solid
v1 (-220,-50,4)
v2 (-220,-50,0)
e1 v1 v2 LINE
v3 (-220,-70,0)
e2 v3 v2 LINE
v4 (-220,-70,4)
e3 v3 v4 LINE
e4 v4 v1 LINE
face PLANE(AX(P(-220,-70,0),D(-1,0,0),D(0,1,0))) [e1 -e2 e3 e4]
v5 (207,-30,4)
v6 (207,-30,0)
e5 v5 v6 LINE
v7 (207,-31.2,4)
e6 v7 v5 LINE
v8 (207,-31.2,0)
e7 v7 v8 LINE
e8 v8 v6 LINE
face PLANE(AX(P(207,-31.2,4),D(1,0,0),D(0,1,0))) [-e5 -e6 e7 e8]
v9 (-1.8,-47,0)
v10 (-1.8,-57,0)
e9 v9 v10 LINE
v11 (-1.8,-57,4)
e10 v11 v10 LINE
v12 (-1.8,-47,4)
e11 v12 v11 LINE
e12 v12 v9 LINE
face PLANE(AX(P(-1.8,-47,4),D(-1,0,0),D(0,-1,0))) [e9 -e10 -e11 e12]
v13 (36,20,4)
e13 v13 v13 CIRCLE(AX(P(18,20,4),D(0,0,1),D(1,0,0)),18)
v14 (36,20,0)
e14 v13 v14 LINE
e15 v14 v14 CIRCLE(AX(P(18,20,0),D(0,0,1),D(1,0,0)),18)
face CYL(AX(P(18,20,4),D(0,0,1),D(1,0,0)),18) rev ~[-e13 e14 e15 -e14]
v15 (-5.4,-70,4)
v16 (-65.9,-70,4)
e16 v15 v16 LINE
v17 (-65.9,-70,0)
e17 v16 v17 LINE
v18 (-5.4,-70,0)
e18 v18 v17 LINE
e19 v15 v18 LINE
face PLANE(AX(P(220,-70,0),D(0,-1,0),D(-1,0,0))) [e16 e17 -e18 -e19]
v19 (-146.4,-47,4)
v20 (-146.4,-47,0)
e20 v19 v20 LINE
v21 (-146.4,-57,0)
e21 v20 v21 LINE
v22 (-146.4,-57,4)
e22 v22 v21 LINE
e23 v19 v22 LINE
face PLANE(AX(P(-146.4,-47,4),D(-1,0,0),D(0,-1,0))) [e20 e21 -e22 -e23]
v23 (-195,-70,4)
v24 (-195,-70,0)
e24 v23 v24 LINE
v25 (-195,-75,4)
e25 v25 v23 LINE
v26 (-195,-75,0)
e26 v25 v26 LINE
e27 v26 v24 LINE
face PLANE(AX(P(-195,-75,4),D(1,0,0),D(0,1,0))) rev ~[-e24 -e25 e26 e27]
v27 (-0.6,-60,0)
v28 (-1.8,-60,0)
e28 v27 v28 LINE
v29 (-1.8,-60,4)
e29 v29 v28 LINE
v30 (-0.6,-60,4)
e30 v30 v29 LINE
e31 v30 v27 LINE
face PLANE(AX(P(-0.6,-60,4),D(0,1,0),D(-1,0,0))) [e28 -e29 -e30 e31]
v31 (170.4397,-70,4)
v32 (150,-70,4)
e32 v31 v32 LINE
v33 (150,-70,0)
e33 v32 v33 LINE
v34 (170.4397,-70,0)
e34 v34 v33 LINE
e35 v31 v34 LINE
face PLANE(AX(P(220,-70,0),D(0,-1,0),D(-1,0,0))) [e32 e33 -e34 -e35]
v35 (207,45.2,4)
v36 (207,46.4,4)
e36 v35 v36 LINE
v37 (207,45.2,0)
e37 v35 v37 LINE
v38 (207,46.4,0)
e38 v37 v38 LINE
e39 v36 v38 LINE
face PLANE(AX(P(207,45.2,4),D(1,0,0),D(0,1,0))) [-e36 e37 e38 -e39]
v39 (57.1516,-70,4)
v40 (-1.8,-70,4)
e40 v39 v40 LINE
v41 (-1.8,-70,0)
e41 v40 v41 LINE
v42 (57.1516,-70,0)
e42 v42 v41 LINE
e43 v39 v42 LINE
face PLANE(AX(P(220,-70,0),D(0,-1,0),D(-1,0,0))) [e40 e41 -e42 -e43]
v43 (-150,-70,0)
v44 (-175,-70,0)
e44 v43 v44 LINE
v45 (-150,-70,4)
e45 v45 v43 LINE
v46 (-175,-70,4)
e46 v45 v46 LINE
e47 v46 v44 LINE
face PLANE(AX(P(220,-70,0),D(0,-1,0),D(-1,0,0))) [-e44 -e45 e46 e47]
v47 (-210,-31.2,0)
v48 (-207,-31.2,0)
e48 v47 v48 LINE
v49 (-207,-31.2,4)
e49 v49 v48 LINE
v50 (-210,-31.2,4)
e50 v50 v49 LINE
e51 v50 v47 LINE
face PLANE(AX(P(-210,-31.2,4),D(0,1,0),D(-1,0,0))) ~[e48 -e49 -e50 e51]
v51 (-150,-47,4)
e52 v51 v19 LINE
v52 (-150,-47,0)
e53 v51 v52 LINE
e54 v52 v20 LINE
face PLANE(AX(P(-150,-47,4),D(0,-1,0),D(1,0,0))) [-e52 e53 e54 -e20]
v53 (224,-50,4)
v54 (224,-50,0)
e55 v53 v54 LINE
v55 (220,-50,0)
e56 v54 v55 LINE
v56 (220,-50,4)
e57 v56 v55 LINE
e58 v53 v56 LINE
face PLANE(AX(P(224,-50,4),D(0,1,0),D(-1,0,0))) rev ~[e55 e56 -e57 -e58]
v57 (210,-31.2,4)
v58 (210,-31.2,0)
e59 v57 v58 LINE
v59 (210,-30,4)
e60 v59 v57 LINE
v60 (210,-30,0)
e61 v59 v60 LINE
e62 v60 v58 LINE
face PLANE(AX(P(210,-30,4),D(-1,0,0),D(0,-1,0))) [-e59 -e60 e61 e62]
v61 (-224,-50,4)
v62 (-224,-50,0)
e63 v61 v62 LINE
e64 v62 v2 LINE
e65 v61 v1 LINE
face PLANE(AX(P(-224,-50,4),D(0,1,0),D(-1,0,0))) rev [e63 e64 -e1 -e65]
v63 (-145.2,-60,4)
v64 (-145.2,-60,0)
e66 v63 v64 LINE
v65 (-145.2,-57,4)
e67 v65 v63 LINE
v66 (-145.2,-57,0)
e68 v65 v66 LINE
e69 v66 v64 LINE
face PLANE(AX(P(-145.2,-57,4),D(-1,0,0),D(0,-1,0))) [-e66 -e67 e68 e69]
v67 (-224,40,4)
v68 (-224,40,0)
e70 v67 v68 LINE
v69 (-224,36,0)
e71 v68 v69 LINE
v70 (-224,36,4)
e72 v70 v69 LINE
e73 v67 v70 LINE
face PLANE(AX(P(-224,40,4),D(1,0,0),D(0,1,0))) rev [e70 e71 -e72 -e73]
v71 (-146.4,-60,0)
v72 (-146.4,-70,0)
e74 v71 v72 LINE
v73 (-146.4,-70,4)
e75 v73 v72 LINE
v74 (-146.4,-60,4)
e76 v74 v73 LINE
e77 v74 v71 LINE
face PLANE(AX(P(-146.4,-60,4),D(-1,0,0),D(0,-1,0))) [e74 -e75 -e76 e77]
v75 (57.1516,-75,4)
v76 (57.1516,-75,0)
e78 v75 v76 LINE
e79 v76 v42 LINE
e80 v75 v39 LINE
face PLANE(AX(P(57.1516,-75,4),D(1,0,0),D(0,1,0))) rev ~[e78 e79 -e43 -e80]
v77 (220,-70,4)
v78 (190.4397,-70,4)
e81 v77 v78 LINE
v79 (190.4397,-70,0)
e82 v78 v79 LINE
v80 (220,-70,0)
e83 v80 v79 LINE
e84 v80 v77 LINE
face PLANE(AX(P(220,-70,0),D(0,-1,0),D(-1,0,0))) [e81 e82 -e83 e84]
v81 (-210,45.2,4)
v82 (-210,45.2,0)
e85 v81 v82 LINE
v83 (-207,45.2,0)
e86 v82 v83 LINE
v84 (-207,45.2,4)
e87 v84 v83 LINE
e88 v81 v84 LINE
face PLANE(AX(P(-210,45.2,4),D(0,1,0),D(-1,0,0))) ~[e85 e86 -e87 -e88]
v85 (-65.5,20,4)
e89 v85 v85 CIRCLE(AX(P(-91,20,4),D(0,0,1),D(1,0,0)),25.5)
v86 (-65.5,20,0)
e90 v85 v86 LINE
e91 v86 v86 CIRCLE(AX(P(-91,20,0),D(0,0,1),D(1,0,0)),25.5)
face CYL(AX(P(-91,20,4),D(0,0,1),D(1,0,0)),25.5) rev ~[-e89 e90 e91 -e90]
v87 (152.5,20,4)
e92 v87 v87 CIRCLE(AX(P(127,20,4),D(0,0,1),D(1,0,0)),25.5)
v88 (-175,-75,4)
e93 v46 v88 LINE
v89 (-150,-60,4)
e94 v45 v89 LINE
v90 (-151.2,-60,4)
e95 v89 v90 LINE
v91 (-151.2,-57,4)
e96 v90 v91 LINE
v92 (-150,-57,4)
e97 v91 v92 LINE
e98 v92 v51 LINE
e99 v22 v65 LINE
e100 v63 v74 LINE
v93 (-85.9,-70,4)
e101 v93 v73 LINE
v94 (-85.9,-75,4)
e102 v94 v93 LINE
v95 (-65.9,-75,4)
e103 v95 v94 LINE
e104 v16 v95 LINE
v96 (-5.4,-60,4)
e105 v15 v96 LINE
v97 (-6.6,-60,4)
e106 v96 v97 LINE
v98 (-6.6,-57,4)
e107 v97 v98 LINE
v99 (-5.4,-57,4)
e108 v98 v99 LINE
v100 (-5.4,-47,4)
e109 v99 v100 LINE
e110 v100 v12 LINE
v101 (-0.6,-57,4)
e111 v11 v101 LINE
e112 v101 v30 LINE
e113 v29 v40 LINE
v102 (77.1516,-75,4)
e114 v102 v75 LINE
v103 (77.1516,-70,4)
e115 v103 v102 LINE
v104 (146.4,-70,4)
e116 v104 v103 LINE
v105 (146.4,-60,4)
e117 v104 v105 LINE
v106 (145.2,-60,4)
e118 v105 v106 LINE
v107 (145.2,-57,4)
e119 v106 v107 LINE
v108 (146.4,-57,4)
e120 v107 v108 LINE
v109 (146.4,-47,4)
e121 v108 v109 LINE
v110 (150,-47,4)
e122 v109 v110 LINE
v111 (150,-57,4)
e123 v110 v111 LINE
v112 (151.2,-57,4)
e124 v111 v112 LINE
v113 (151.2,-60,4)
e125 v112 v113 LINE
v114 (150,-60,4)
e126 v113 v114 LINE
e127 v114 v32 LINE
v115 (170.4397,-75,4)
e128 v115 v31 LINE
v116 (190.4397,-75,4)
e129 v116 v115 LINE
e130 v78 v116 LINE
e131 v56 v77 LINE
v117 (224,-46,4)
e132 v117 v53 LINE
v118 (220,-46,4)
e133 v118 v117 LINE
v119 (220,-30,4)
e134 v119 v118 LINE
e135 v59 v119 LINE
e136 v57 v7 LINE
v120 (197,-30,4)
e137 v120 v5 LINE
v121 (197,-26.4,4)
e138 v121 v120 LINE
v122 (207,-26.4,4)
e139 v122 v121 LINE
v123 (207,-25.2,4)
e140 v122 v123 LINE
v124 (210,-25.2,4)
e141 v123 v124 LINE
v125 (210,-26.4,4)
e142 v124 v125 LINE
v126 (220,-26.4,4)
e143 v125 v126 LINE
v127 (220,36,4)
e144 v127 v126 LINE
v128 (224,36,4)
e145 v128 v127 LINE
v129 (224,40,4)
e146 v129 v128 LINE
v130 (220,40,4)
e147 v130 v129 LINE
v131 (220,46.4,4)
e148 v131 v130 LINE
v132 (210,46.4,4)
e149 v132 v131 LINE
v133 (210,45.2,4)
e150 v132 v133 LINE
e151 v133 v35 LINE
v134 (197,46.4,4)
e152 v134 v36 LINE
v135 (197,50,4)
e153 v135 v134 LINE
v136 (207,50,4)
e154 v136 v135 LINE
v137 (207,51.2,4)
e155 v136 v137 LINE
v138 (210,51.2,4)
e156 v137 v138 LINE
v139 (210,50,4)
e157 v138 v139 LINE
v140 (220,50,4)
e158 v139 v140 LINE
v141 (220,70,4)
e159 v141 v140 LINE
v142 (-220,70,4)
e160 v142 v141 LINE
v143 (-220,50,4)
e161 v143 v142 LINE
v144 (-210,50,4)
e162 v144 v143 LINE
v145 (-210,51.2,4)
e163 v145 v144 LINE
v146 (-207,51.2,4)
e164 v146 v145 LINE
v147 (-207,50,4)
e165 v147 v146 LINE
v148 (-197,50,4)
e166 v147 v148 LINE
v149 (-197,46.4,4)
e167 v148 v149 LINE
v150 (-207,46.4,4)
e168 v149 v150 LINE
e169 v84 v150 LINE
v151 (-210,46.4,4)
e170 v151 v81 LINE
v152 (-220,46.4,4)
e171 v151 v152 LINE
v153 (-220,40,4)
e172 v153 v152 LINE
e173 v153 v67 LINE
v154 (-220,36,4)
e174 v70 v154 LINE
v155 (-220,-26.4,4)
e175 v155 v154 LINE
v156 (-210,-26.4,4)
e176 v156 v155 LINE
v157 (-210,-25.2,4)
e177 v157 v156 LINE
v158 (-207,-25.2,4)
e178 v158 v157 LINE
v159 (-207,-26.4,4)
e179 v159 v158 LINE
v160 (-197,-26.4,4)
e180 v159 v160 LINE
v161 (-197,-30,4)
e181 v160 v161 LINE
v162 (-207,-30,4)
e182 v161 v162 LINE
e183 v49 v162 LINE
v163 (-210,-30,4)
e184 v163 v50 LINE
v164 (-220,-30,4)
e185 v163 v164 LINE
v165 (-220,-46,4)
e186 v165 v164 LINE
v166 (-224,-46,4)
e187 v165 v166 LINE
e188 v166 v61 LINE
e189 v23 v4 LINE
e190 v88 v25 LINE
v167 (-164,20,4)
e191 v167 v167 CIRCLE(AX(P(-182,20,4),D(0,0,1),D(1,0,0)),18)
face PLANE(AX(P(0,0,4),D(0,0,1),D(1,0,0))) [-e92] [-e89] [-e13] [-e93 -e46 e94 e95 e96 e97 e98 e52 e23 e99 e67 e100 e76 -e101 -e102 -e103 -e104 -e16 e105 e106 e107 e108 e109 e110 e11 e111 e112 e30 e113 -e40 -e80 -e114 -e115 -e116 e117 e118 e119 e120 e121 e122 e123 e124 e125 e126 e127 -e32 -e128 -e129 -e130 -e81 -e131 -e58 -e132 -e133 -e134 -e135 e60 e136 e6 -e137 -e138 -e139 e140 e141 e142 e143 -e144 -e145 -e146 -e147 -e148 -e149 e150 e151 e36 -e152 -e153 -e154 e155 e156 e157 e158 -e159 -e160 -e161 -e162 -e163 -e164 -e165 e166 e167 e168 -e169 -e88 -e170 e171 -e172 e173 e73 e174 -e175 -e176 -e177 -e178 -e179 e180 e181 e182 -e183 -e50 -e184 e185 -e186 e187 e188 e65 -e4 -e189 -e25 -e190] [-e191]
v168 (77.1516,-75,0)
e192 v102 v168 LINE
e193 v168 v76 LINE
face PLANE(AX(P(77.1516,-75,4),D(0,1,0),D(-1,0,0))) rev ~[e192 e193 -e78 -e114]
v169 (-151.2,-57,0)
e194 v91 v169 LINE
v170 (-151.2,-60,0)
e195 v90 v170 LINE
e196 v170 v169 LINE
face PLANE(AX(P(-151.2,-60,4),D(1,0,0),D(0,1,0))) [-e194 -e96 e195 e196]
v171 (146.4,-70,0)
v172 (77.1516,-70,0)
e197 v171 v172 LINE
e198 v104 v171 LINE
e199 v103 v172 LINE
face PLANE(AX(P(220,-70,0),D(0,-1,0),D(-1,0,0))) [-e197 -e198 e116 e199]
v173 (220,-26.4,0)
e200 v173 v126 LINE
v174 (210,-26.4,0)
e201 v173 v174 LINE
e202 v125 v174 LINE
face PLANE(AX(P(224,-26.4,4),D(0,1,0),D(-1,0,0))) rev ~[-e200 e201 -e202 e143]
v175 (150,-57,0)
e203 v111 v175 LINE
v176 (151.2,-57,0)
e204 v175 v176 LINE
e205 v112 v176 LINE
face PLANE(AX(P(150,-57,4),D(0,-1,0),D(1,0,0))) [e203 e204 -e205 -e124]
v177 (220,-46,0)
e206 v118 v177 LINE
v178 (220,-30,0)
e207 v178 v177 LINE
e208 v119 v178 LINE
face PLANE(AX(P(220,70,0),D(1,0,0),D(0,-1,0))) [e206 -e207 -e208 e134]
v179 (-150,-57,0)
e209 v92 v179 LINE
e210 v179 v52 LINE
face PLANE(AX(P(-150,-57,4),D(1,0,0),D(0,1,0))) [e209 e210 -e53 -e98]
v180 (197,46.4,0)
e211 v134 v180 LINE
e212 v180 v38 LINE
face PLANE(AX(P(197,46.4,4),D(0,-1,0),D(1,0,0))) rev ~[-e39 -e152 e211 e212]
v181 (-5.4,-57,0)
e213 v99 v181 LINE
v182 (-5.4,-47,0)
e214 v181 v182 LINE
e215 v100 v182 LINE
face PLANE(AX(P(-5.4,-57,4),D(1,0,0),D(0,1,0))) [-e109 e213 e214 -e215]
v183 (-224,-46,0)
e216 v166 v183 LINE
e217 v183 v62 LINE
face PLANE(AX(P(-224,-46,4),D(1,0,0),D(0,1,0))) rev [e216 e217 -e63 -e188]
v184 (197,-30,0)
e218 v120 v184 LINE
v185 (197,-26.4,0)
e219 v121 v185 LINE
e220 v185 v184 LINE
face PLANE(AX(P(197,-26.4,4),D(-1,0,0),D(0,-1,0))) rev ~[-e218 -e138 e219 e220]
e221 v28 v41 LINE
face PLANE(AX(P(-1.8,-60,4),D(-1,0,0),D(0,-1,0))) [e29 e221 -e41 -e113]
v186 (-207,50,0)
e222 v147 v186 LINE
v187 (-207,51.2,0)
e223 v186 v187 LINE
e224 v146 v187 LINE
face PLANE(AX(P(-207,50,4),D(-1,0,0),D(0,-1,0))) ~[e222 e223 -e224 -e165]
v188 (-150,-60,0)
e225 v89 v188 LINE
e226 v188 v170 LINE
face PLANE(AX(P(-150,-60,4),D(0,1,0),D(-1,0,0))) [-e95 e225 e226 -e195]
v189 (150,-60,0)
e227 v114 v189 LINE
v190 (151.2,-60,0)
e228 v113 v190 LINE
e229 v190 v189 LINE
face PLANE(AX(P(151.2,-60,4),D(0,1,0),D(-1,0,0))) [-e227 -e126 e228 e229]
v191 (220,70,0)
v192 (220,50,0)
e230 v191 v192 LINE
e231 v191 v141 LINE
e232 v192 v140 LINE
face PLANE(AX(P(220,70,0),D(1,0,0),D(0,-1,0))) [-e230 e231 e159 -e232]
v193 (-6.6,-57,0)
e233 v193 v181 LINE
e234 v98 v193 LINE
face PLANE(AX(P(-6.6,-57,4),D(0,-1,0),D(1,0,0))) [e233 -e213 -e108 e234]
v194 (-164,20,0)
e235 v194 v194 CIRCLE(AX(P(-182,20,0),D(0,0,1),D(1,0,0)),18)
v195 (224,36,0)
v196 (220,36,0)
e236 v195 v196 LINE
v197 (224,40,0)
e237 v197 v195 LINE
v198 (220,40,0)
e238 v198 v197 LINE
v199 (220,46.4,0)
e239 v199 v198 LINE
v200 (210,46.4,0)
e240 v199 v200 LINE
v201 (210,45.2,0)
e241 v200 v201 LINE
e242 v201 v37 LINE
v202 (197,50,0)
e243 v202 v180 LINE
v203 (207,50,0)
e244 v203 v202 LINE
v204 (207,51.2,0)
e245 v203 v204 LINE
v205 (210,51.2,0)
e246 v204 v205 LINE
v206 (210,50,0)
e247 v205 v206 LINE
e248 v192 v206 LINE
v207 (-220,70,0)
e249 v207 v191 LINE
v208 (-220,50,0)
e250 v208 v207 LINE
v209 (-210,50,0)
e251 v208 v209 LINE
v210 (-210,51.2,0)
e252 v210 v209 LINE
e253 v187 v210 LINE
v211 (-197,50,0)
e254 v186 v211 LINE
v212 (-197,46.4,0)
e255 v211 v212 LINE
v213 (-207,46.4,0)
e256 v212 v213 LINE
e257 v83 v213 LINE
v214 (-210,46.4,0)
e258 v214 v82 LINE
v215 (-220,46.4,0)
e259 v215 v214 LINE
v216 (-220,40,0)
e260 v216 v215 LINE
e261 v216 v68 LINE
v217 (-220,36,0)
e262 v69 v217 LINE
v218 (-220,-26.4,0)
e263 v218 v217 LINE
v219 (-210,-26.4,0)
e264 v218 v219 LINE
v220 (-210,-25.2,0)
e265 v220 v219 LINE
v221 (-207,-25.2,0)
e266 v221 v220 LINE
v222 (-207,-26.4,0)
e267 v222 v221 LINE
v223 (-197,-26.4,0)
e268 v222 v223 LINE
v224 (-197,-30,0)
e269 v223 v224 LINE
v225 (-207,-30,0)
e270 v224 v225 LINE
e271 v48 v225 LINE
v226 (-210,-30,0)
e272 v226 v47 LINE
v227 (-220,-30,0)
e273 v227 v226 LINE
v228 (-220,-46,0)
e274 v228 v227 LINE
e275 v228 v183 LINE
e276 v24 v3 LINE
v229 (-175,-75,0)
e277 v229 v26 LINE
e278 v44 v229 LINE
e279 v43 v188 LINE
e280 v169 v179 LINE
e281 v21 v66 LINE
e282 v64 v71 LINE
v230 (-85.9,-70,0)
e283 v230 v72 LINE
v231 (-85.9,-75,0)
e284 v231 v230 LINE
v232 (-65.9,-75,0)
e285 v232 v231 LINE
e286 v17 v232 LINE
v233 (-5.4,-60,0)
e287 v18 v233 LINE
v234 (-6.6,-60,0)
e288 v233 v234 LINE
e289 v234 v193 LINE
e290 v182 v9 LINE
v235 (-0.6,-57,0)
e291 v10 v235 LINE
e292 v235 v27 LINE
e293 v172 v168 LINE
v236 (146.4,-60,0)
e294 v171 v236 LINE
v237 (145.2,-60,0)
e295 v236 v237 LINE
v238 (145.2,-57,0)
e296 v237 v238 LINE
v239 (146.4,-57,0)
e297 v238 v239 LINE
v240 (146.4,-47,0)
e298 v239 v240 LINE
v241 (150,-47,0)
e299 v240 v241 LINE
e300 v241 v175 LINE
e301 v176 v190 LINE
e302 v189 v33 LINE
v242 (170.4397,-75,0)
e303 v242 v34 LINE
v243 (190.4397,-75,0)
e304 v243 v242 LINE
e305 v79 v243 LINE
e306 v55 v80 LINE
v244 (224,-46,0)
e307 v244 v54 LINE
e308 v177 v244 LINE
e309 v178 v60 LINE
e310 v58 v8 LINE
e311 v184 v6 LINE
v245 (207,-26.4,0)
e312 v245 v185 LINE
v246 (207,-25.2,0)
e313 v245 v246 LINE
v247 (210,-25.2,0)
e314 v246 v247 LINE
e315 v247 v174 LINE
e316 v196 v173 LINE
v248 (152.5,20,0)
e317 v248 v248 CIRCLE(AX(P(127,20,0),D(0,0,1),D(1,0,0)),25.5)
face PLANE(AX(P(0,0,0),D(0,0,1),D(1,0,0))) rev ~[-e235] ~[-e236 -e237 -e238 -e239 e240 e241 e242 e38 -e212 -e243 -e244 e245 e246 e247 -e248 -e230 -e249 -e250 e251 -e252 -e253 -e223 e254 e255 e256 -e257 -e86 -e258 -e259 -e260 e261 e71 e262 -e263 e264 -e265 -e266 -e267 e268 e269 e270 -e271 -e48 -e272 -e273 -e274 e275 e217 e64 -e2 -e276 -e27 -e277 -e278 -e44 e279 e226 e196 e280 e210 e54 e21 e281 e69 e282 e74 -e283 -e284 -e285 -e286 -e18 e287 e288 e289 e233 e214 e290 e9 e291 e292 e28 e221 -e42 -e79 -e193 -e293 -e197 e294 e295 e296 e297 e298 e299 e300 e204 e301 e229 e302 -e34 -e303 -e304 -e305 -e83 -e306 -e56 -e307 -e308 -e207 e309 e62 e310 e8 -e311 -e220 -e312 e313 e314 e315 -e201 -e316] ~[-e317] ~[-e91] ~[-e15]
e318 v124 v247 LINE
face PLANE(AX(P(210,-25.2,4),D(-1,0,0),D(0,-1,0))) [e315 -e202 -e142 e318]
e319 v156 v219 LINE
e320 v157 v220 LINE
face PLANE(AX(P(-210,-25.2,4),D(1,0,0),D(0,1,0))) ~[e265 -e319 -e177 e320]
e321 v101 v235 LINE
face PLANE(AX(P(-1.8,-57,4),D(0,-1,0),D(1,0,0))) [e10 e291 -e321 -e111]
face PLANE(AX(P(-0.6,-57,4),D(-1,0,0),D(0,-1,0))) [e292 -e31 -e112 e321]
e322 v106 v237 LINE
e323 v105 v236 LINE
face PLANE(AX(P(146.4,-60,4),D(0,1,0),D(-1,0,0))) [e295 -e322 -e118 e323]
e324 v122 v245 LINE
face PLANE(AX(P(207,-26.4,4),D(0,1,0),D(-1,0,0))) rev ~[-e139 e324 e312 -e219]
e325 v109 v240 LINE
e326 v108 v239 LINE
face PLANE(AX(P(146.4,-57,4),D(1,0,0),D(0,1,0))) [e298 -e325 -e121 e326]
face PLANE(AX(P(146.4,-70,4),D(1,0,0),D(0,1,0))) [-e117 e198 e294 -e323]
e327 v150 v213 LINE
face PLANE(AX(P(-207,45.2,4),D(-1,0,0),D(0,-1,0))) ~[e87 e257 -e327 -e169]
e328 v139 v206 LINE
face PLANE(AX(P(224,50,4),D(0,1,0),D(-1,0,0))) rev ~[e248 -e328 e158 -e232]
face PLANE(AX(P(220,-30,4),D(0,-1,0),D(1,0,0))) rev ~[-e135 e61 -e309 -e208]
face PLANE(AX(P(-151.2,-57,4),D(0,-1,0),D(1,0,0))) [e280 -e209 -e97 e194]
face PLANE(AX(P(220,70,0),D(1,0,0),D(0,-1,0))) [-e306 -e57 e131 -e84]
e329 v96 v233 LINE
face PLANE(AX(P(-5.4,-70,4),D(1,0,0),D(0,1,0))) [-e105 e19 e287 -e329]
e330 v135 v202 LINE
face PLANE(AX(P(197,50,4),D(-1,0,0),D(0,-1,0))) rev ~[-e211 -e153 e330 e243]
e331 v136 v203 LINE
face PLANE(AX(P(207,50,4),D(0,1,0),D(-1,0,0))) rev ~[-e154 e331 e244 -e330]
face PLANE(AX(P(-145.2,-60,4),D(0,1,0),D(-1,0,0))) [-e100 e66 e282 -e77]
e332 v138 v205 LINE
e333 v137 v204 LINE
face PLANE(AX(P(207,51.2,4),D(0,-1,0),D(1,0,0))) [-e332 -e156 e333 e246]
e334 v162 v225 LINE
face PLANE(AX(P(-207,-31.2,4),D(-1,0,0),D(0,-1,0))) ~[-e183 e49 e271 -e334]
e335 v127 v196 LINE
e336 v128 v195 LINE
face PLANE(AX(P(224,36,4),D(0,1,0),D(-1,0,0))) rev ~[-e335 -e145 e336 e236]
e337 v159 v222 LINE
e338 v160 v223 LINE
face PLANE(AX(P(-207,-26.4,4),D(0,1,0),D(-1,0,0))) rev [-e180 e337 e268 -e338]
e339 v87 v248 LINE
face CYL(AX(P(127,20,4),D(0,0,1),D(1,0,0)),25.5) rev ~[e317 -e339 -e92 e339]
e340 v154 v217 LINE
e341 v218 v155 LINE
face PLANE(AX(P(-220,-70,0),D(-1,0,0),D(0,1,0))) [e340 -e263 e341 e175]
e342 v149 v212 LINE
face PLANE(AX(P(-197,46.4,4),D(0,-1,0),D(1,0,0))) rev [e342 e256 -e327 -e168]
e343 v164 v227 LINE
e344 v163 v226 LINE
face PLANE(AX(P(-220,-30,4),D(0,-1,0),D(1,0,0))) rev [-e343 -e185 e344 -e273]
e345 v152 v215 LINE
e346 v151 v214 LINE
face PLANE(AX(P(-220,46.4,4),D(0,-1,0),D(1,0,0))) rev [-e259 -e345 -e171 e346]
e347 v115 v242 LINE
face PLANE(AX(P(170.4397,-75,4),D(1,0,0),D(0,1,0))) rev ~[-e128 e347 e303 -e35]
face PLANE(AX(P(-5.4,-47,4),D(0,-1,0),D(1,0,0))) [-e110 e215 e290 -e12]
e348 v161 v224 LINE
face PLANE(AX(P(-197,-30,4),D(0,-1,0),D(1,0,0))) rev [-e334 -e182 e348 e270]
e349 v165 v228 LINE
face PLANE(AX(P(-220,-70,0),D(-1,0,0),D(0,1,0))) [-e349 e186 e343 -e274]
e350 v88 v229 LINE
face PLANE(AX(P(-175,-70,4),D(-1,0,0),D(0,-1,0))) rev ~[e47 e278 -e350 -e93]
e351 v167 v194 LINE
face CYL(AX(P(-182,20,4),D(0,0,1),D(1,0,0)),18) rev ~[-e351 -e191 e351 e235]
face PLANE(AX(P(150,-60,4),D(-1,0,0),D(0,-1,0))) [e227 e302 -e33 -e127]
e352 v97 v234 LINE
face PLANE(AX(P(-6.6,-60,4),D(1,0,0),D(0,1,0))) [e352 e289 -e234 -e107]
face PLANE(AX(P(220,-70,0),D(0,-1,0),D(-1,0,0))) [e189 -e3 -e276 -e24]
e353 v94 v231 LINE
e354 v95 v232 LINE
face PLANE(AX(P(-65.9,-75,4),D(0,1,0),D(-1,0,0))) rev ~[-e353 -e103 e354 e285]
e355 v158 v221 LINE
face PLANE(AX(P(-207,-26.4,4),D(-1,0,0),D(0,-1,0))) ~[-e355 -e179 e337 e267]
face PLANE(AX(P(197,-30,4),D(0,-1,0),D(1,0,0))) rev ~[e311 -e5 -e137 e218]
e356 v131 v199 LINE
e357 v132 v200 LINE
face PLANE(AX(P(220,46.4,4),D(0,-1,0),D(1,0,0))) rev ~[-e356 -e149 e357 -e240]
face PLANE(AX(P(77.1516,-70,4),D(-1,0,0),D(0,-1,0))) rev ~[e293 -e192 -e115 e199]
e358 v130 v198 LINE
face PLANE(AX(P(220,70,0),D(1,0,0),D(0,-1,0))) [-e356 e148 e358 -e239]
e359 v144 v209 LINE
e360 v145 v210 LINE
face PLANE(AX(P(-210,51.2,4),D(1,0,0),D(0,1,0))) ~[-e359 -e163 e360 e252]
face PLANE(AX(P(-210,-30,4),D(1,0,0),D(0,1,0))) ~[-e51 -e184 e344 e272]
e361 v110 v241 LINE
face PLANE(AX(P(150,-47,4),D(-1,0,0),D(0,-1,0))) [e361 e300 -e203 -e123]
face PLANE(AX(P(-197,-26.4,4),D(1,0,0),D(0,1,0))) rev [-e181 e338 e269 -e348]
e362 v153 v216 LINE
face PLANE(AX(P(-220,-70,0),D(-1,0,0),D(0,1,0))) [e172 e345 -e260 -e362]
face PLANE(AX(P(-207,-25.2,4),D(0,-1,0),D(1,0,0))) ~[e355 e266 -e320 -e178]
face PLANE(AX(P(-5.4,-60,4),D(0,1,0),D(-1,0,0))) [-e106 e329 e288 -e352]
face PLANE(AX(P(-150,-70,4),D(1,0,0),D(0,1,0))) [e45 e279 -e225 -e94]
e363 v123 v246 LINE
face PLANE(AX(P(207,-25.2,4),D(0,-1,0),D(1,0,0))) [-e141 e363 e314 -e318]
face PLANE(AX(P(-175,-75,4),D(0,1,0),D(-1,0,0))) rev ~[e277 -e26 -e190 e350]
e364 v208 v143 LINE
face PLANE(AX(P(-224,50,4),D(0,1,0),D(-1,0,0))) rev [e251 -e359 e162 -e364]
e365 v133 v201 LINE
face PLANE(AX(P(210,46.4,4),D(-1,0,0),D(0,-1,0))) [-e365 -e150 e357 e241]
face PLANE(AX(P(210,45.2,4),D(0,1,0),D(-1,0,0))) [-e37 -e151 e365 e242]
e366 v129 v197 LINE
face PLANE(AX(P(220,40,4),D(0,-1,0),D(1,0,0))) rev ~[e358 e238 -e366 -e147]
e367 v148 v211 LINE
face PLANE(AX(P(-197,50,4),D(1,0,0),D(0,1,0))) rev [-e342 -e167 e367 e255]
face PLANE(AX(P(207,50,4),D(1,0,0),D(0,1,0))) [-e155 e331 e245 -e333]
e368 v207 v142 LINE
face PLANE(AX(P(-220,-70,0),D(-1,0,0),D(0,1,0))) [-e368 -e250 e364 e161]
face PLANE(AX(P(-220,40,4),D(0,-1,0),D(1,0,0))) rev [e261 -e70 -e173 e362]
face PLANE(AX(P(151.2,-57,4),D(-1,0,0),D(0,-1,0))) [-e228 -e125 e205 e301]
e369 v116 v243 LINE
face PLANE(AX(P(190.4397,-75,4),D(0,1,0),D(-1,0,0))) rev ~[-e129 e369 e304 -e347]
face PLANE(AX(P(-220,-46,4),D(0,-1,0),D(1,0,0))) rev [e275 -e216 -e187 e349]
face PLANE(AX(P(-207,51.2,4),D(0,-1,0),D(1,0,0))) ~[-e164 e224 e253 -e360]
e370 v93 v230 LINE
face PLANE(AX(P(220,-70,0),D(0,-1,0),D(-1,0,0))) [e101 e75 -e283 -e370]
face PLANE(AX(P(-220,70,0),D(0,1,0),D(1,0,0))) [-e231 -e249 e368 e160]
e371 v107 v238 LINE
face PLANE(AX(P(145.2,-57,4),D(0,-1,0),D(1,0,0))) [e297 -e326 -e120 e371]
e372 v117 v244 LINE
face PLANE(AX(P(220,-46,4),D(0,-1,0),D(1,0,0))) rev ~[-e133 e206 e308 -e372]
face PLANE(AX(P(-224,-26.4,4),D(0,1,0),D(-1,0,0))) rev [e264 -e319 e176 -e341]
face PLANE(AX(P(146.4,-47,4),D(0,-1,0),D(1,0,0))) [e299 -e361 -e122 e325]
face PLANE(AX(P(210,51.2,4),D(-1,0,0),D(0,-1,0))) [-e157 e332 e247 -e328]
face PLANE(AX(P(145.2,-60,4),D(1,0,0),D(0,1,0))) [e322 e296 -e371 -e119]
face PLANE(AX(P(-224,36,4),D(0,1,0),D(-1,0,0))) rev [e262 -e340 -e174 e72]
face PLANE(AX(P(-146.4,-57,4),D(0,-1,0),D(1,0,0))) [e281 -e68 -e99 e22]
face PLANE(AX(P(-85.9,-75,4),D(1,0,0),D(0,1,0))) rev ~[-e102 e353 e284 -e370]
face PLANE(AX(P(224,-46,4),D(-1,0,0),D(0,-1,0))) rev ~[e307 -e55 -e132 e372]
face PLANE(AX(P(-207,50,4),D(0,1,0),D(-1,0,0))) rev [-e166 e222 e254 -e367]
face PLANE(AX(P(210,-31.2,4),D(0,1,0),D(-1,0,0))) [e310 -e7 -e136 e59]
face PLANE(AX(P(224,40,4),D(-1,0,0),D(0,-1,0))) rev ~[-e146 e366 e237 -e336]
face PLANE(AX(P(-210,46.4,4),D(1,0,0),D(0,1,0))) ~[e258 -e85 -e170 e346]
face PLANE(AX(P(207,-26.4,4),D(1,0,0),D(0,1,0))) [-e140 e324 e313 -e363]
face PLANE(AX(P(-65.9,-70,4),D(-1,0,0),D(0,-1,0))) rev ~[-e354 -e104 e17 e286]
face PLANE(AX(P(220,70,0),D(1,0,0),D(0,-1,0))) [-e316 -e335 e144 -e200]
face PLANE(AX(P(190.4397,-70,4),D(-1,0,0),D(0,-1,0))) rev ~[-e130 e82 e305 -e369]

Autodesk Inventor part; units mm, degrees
ref_plane "YZ Plane" through (0, 0, 0) normal (1, 0, 0) x (0, 1, 0)
sketch "Sketch2" plane through (0, 0, 0) normal (0, 0, 1) x (1, 0, 0)
  line L0 (220, -70) -> (-220, -70)
  line L1 (-220, -70) -> (-220, 70)
  line L2 (-220, 70) -> (220, 70)
  line L3 (220, 70) -> (220, -70)
  line L4 (220, -70) -> (-220, 70) construction
  line L5 (-220, -70) -> (220, 70) construction
  point P0 (0, 0)
  dimension "d8" = 440
  dimension "d9" = 140
extrude "Extrusion2" add sketch "Sketch2" along normal blind 4
sketch "Sketch3" plane through (0, 0, 4) normal (0, 0, 1) x (1, 0, 0)
  line L0 (-220, -70) -> (220, -70) projected
  line L1 (220, -70) -> (220, 70) projected
  line L2 (220, 70) -> (-220, 70) projected
  line L3 (-220, 70) -> (-220, -70) projected
  circle A0 centre (-182, 20) radius 18
  circle A1 centre (-91, 20) radius 25.5
  circle A2 centre (18, 20) radius 18
  circle A3 centre (127, 20) radius 25.5
  point P0 (0, 0)
  dimension "d13" = 91
  dimension "d14" = 36
  dimension "d15" = 51
  dimension "d16" = 38
  dimension "d17" = 109
  dimension "d18" = 36
  dimension "d19" = 109
  dimension "d20" = 51
  dimension "d23" = 50
extrude "Extrusion3" cut sketch "Sketch3" against normal blind 4 contours A0 | A1 | A2 | A3
sketch "Sketch4" plane through (0, 0, 4) normal (0, 0, 1) x (1, 0, 0)
  circle A0 centre (127, 20) radius 25.5
  circle A1 centre (18, 20) radius 25.5
  circle A2 centre (-91, 20) radius 18
  circle A3 centre (-182, 20) radius 18
  line L0 (-220, 70) -> (220, 70)
  line L1 (220, 70) -> (220, -70)
  line L2 (220, -70) -> (-220, -70)
  line L3 (-220, -70) -> (-220, 70)
  line L4 (220, 70) -> (224, 70)
  line L5 (224, -62.3) -> (220, -62.3)
  line L6 (224, 50) -> (197, 50)
  line L7 (197, 50) -> (197, 46.4)
  line L8 (197, 46.4) -> (224, 46.4)
  line L9 (224, 46.4) -> (224, 50)
  line L10 (210, 45.2) -> (207, 45.2)
  line L11 (207, 45.2) -> (207, 51.2)
  line L12 (207, 51.2) -> (210, 51.2)
  line L13 (210, 51.2) -> (210, 45.2)
  line L14 (210, 45.2) -> (207, 51.2) construction
  line L15 (207, 45.2) -> (210, 51.2) construction
  line L16 (224, -26.4) -> (197, -26.4)
  line L17 (197, -26.4) -> (197, -30)
  line L18 (197, -30) -> (224, -30)
  line L19 (224, -30) -> (224, -26.4)
  line L20 (210, -31.2) -> (207, -31.2)
  line L21 (207, -31.2) -> (207, -25.2)
  line L22 (207, -25.2) -> (210, -25.2)
  line L23 (210, -25.2) -> (210, -31.2)
  line L24 (210, -31.2) -> (207, -25.2) construction
  line L25 (207, -31.2) -> (210, -25.2) construction
  line L26 (224, 70) -> (224, 46.4)
  line L27 (224, -26.4) -> (224, -30)
  line L28 (220, -62.3) -> (220, -30)
  point P0 (0, 0)
  point P1 (208.5, 48.2)
  point P2 (208.5, -28.2)
  point P3 (220, 46.4)
  point P4 (220, -26.4)
  dimension "d24" = 4
  dimension "d25" = 27
  dimension "d26" = 3.6
  dimension "d27" = 3
  dimension "d28" = 6
  dimension "d29" = 10
  dimension "d30" = 140
  dimension "d31" = 20
  dimension "d32" = 27
  dimension "d33" = 3
  dimension "d34" = 6
  dimension "d35" = 40
  dimension "d36" = 3.6
extrude "Extrusion4" cut sketch "Sketch4" against normal blind 4 contours L6 L9 L8 L1 | L1 L8 L13 L6 | L13 L8 L11 L6 | L6 L11 L12 L13 | L16 L19 L18 L1 | L1 L18 L23 L16 | L13 L10 L11 L8 | L11 L8 L7 L6 | L23 L18 L21 L16 | L16 L21 L22 L23 | L23 L20 L21 L18 | L21 L18 L17 L16
ref_plane "Work Plane1" through (0, 70, 4) normal (1, 0, 0) x (0, 0, -1)
mirror "Mirror1" about plane through (0, 70, 4) normal (1, 0, 0) of "Extrusion4"
sketch "Sketch5" plane through (0, 0, 4) normal (0, 0, 1) x (1, 0, 0)
  line L0 (-224, -46) -> (-220, -46)
  line L1 (-224, -50) -> (-224, -46)
  line L2 (-220, -50) -> (-224, -50)
  line L3 (-220, -50) -> (-220, -70)
  line L4 (-220, -70) -> (220, -70)
  line L5 (220, -70) -> (220, -50)
  line L6 (220, -50) -> (224, -50)
  line L7 (224, -50) -> (224, -46)
  line L8 (224, -46) -> (220, -46)
  line L9 (-150, -57) -> (-150, -47)
  line L10 (-151.2, -57) -> (-150, -57)
  line L11 (-150, -47) -> (-146.4, -47)
  line L12 (-146.4, -47) -> (-146.4, -57)
  line L13 (-146.4, -57) -> (-145.2, -57)
  line L14 (-150, -60) -> (-151.2, -60)
  line L15 (-151.2, -60) -> (-151.2, -57)
  line L16 (-145.2, -57) -> (-145.2, -60)
  line L17 (-145.2, -60) -> (-146.4, -60)
  line L18 (-150, -70) -> (-150, -60)
  line L19 (-146.4, -60) -> (-146.4, -70)
  line L20 (-146.4, -70) -> (-150, -70)
  line L21 (-220, -70) -> (220, -70)
  line L22 (151.2, -57) -> (151.2, -60)
  line L23 (150, -57) -> (151.2, -57)
  line L24 (150, -47) -> (150, -57)
  line L25 (146.4, -47) -> (150, -47)
  line L26 (150, -60) -> (150, -70)
  line L27 (146.4, -57) -> (146.4, -47)
  line L28 (146.4, -70) -> (146.4, -60)
  line L29 (145.2, -57) -> (146.4, -57)
  line L30 (145.2, -60) -> (145.2, -57)
  line L31 (146.4, -60) -> (145.2, -60)
  line L32 (151.2, -60) -> (150, -60)
  line L33 (150, -70) -> (146.4, -70)
  line L34 (-0.6, -57) -> (-0.6, -60)
  line L35 (-1.8, -57) -> (-0.6, -57)
  line L36 (-1.8, -47) -> (-1.8, -57)
  line L37 (-5.4, -47) -> (-1.8, -47)
  line L38 (-1.8, -60) -> (-1.8, -70)
  line L39 (-5.4, -57) -> (-5.4, -47)
  line L40 (-5.4, -70) -> (-5.4, -60)
  line L41 (-6.6, -57) -> (-5.4, -57)
  line L42 (-6.6, -60) -> (-6.6, -57)
  line L43 (-5.4, -60) -> (-6.6, -60)
  line L44 (-0.6, -60) -> (-1.8, -60)
  line L45 (-1.8, -70) -> (-5.4, -70)
  line L46 (-220, -70) -> (220, -70) projected
  point P0 (0, 0)
  point P1 (-143.2198, -70)
  point P2 (176.1378, -65.3908)
  point P3 (10.9651, -65.3908)
  dimension "d39" = 70
  dimension "d40" = 3.6
  dimension "d41" = 3.6
  dimension "d42" = 6
  dimension "d43" = 1.2
  dimension "d44" = 3
  dimension "d45" = 1.2
  dimension "d46" = 3.6
  dimension "d47" = 3.6
  dimension "d48" = 6
  dimension "d49" = 1.2
  dimension "d50" = 3
  dimension "d51" = 1.2
  dimension "d52" = 3.6
  dimension "d53" = 3.6
  dimension "d54" = 6
  dimension "d55" = 1.2
  dimension "d56" = 3
  dimension "d57" = 1.2
  dimension "d58" = 70
  dimension "d59" = 440
  dimension "d60" = 221.8
extrude "Extrusion5" cut sketch "Sketch5" against normal blind 10
sketch "Sketch6" plane through (0, 0, 4) normal (0, 0, 1) x (1, 0, 0)
  line L0 (-220, -70) -> (-150, -70)
  line L1 (-195, -70) -> (-175, -70)
  line L2 (-175, -70) -> (-175, -75)
  line L3 (-175, -75) -> (-195, -75)
  line L4 (-195, -75) -> (-195, -70)
  line L5 (-146.4, -70) -> (-5.4, -70)
  line L6 (-85.9, -70) -> (-65.9, -70)
  line L7 (-65.9, -70) -> (-65.9, -75)
  line L8 (-65.9, -75) -> (-85.9, -75)
  line L9 (-85.9, -75) -> (-85.9, -70)
  line L10 (-1.8, -70) -> (146.4, -70)
  line L11 (57.1516, -70) -> (77.1516, -70)
  line L12 (77.1516, -70) -> (77.1516, -75)
  line L13 (77.1516, -75) -> (57.1516, -75)
  line L14 (57.1516, -75) -> (57.1516, -70)
  line L15 (150, -70) -> (220, -70)
  line L16 (170.4397, -70) -> (190.4397, -70)
  line L17 (190.4397, -70) -> (190.4397, -75)
  line L18 (190.4397, -75) -> (170.4397, -75)
  line L19 (170.4397, -75) -> (170.4397, -70)
  line L20 (-220, -50) -> (-220, -70)
  line L21 (-146.4, -60) -> (-146.4, -70)
  line L22 (-5.4, -70) -> (-5.4, -60)
  line L23 (146.4, -70) -> (146.4, -60)
  line L24 (-1.8, -60) -> (-1.8, -70)
  line L25 (-1.8, -60) -> (-1.8, -70) projected
  line L26 (-1.8, -70) -> (146.4, -70) projected
  line L27 (146.4, -70) -> (146.4, -60) projected
  line L28 (146.4, -60) -> (145.2, -60) projected
  line L29 (145.2, -60) -> (145.2, -57) projected
  line L30 (145.2, -57) -> (146.4, -57) projected
  line L31 (146.4, -57) -> (146.4, -47) projected
  line L32 (146.4, -47) -> (150, -47) projected
  line L33 (150, -47) -> (150, -57) projected
  line L34 (150, -57) -> (151.2, -57) projected
  line L35 (151.2, -57) -> (151.2, -60) projected
  line L36 (151.2, -60) -> (150, -60) projected
  line L37 (150, -60) -> (150, -70) projected
  line L38 (150, -70) -> (220, -70) projected
  line L39 (220, -70) -> (220, -30) projected
  line L40 (220, -30) -> (210, -30) projected
  line L41 (210, -30) -> (210, -31.2) projected
  line L42 (210, -31.2) -> (207, -31.2) projected
  line L43 (207, -31.2) -> (207, -30) projected
  line L44 (207, -30) -> (197, -30) projected
  line L45 (197, -30) -> (197, -26.4) projected
  line L46 (197, -26.4) -> (207, -26.4) projected
  line L47 (207, -26.4) -> (207, -25.2) projected
  line L48 (207, -25.2) -> (210, -25.2) projected
  line L49 (210, -25.2) -> (210, -26.4) projected
  line L50 (210, -26.4) -> (220, -26.4) projected
  line L51 (220, -26.4) -> (220, 46.4) projected
  line L52 (220, 46.4) -> (210, 46.4) projected
  line L53 (210, 46.4) -> (210, 45.2) projected
  line L54 (210, 45.2) -> (207, 45.2) projected
  line L55 (207, 45.2) -> (207, 46.4) projected
  line L56 (207, 46.4) -> (197, 46.4) projected
  line L57 (197, 46.4) -> (197, 50) projected
  line L58 (197, 50) -> (207, 50) projected
  line L59 (207, 50) -> (207, 51.2) projected
  line L60 (207, 51.2) -> (210, 51.2) projected
  line L61 (210, 51.2) -> (210, 50) projected
  line L62 (210, 50) -> (220, 50) projected
  line L63 (220, 50) -> (220, 70) projected
  line L64 (220, 70) -> (-220, 70) projected
  line L65 (-220, 70) -> (-220, 50) projected
  line L66 (-220, 50) -> (-210, 50) projected
  line L67 (-210, 50) -> (-210, 51.2) projected
  line L68 (-210, 51.2) -> (-207, 51.2) projected
  line L69 (-207, 51.2) -> (-207, 50) projected
  line L70 (-207, 50) -> (-197, 50) projected
  line L71 (-197, 50) -> (-197, 46.4) projected
  line L72 (-197, 46.4) -> (-207, 46.4) projected
  line L73 (-207, 46.4) -> (-207, 45.2) projected
  line L74 (-207, 45.2) -> (-210, 45.2) projected
  line L75 (-210, 45.2) -> (-210, 46.4) projected
  line L76 (-210, 46.4) -> (-220, 46.4) projected
  line L77 (-220, 46.4) -> (-220, -26.4) projected
  line L78 (-220, -26.4) -> (-210, -26.4) projected
  line L79 (-210, -26.4) -> (-210, -25.2) projected
  line L80 (-210, -25.2) -> (-207, -25.2) projected
  line L81 (-207, -25.2) -> (-207, -26.4) projected
  line L82 (-207, -26.4) -> (-197, -26.4) projected
  line L83 (-197, -26.4) -> (-197, -30) projected
  line L84 (-197, -30) -> (-207, -30) projected
  line L85 (-207, -30) -> (-207, -31.2) projected
  line L86 (-207, -31.2) -> (-210, -31.2) projected
  line L87 (-210, -31.2) -> (-210, -30) projected
  line L88 (-210, -30) -> (-220, -30) projected
  line L89 (-220, -30) -> (-220, -70) projected
  line L90 (-220, -70) -> (-150, -70) projected
  line L91 (-150, -70) -> (-150, -60) projected
  line L92 (-150, -60) -> (-151.2, -60) projected
  line L93 (-151.2, -60) -> (-151.2, -57) projected
  line L94 (-151.2, -57) -> (-150, -57) projected
  line L95 (-150, -57) -> (-150, -47) projected
  line L96 (-150, -47) -> (-146.4, -47) projected
  line L97 (-146.4, -47) -> (-146.4, -57) projected
  line L98 (-146.4, -57) -> (-145.2, -57) projected
  line L99 (-145.2, -57) -> (-145.2, -60) projected
  line L100 (-145.2, -60) -> (-146.4, -60) projected
  line L101 (-146.4, -60) -> (-146.4, -70) projected
  line L102 (-146.4, -70) -> (-5.4, -70) projected
  line L103 (-5.4, -70) -> (-5.4, -60) projected
  line L104 (-5.4, -60) -> (-6.6, -60) projected
  line L105 (-6.6, -60) -> (-6.6, -57) projected
  line L106 (-6.6, -57) -> (-5.4, -57) projected
  line L107 (-5.4, -57) -> (-5.4, -47) projected
  line L108 (-5.4, -47) -> (-1.8, -47) projected
  line L109 (-1.8, -47) -> (-1.8, -57) projected
  line L110 (-1.8, -57) -> (-0.6, -57) projected
  line L111 (-0.6, -57) -> (-0.6, -60) projected
  line L112 (-0.6, -60) -> (-1.8, -60) projected
  circle A0 centre (-91, 20) radius 25.5 projected
  circle A1 centre (-182, 20) radius 18 projected
  circle A2 centre (18, 20) radius 18 projected
  circle A3 centre (127, 20) radius 25.5 projected
  line L113 (-220, -30) -> (-220, -70) projected
  point P0 (0, 0)
  dimension "d63" = 20
  dimension "d64" = 5
  dimension "d65" = 20
  dimension "d66" = 5
  dimension "d67" = 20
  dimension "d68" = 5
  dimension "d69" = 20
  dimension "d70" = 5
  dimension "d71" = 25
  dimension "d72" = 60.5
  dimension "d73" = 141
  dimension "d74" = 148.2
extrude "Extrusion6" add sketch "Sketch6" against normal blind 4 contours L0 L2 L3 L4 | L5 L7 L8 L9 | L10 L12 L13 L14 | L15 L17 L18 L19
sketch "Sketch7" plane through (0, 0, 4) normal (0, 0, 1) x (1, 0, 0)
  line L0 (220, 70) -> (-220, 70)
  line L1 (210, -26.4) -> (220, -26.4)
  line L2 (220, -26.4) -> (220, 46.4)
  line L3 (220, 46.4) -> (210, 46.4)
  line L4 (210, 46.4) -> (210, 45.2)
  line L5 (210, 45.2) -> (207, 45.2)
  line L6 (207, 45.2) -> (207, 46.4)
  line L7 (207, 46.4) -> (197, 46.4)
  line L8 (197, 50) -> (207, 50)
  line L9 (207, 50) -> (207, 51.2)
  line L10 (207, 51.2) -> (210, 51.2)
  line L11 (210, 51.2) -> (210, 50)
  line L12 (210, 50) -> (220, 50)
  line L13 (220, 50) -> (220, 70)
  line L14 (220, 70) -> (-220, 70)
  line L15 (-220, -70) -> (220, -70)
  line L16 (220, -70) -> (220, -30)
  line L17 (220, -30) -> (210, -30)
  line L18 (210, -30) -> (210, -31.2)
  line L19 (210, -31.2) -> (207, -31.2)
  line L20 (207, -31.2) -> (207, -30)
  line L21 (207, -30) -> (197, -30)
  line L22 (197, -26.4) -> (207, -26.4)
  line L23 (207, -26.4) -> (207, -25.2)
  line L24 (207, -25.2) -> (210, -25.2)
  line L25 (210, -25.2) -> (210, -26.4)
  circle A0 centre (182, 20) radius 18
  line L26 (220, 40) -> (224, 40)
  line L27 (224, 40) -> (224, 36)
  line L28 (224, 36) -> (220, 36)
  line L29 (220, 36) -> (220, 40)
  line L30 (220, -46) -> (224, -46)
  line L31 (224, -46) -> (224, -50)
  line L32 (224, -50) -> (220, -50)
  line L33 (220, -50) -> (220, -46)
  line L34 (-1.8, -60) -> (-1.8, -70) projected
  line L35 (-1.8, -70) -> (57.1516, -70) projected
  line L36 (57.1516, -70) -> (57.1516, -75) projected
  line L37 (57.1516, -75) -> (77.1516, -75) projected
  line L38 (77.1516, -75) -> (77.1516, -70) projected
  line L39 (77.1516, -70) -> (146.4, -70) projected
  line L40 (146.4, -70) -> (146.4, -60) projected
  line L41 (146.4, -60) -> (145.2, -60) projected
  line L42 (145.2, -60) -> (145.2, -57) projected
  line L43 (145.2, -57) -> (146.4, -57) projected
  line L44 (146.4, -57) -> (146.4, -47) projected
  line L45 (146.4, -47) -> (150, -47) projected
  line L46 (150, -47) -> (150, -57) projected
  line L47 (150, -57) -> (151.2, -57) projected
  line L48 (151.2, -57) -> (151.2, -60) projected
  line L49 (151.2, -60) -> (150, -60) projected
  line L50 (150, -60) -> (150, -70) projected
  line L51 (150, -70) -> (170.4397, -70) projected
  line L52 (170.4397, -75) -> (170.4397, -70) projected
  line L53 (190.4397, -75) -> (170.4397, -75) projected
  line L54 (190.4397, -70) -> (190.4397, -75) projected
  line L55 (190.4397, -70) -> (220, -70) projected
  line L56 (220, -70) -> (220, -30) projected
  line L57 (220, -30) -> (210, -30) projected
  line L58 (210, -30) -> (210, -31.2) projected
  line L59 (210, -31.2) -> (207, -31.2) projected
  line L60 (207, -31.2) -> (207, -30) projected
  line L61 (207, -30) -> (197, -30) projected
  line L62 (197, -30) -> (197, -26.4) projected
  line L63 (197, -26.4) -> (207, -26.4) projected
  line L64 (207, -26.4) -> (207, -25.2) projected
  line L65 (207, -25.2) -> (210, -25.2) projected
  line L66 (210, -25.2) -> (210, -26.4) projected
  line L67 (210, -26.4) -> (220, -26.4) projected
  line L68 (220, -26.4) -> (220, 46.4) projected
  line L69 (220, 46.4) -> (210, 46.4) projected
  line L70 (210, 46.4) -> (210, 45.2) projected
  line L71 (210, 45.2) -> (207, 45.2) projected
  line L72 (207, 45.2) -> (207, 46.4) projected
  line L73 (207, 46.4) -> (197, 46.4) projected
  line L74 (197, 46.4) -> (197, 50) projected
  line L75 (197, 50) -> (207, 50) projected
  line L76 (207, 50) -> (207, 51.2) projected
  line L77 (207, 51.2) -> (210, 51.2) projected
  line L78 (210, 51.2) -> (210, 50) projected
  line L79 (210, 50) -> (220, 50) projected
  line L80 (220, 50) -> (220, 70) projected
  line L81 (220, 70) -> (-220, 70) projected
  line L82 (-220, 70) -> (-220, 50) projected
  line L83 (-220, 50) -> (-210, 50) projected
  line L84 (-210, 50) -> (-210, 51.2) projected
  line L85 (-210, 51.2) -> (-207, 51.2) projected
  line L86 (-207, 51.2) -> (-207, 50) projected
  line L87 (-207, 50) -> (-197, 50) projected
  line L88 (-197, 50) -> (-197, 46.4) projected
  line L89 (-197, 46.4) -> (-207, 46.4) projected
  line L90 (-207, 46.4) -> (-207, 45.2) projected
  line L91 (-207, 45.2) -> (-210, 45.2) projected
  line L92 (-210, 45.2) -> (-210, 46.4) projected
  line L93 (-210, 46.4) -> (-220, 46.4) projected
  line L94 (-220, 46.4) -> (-220, -26.4) projected
  line L95 (-220, -26.4) -> (-210, -26.4) projected
  line L96 (-210, -26.4) -> (-210, -25.2) projected
  line L97 (-210, -25.2) -> (-207, -25.2) projected
  line L98 (-207, -25.2) -> (-207, -26.4) projected
  line L99 (-207, -26.4) -> (-197, -26.4) projected
  line L100 (-197, -26.4) -> (-197, -30) projected
  line L101 (-197, -30) -> (-207, -30) projected
  line L102 (-207, -30) -> (-207, -31.2) projected
  line L103 (-207, -31.2) -> (-210, -31.2) projected
  line L104 (-210, -31.2) -> (-210, -30) projected
  line L105 (-210, -30) -> (-220, -30) projected
  line L106 (-220, -30) -> (-220, -70) projected
  line L107 (-220, -70) -> (-195, -70) projected
  line L108 (-195, -70) -> (-195, -75) projected
  line L109 (-195, -75) -> (-175, -75) projected
  line L110 (-175, -75) -> (-175, -70) projected
  line L111 (-175, -70) -> (-150, -70) projected
  line L112 (-150, -70) -> (-150, -60) projected
  line L113 (-150, -60) -> (-151.2, -60) projected
  line L114 (-151.2, -60) -> (-151.2, -57) projected
  line L115 (-151.2, -57) -> (-150, -57) projected
  line L116 (-150, -57) -> (-150, -47) projected
  line L117 (-150, -47) -> (-146.4, -47) projected
  line L118 (-146.4, -47) -> (-146.4, -57) projected
  line L119 (-146.4, -57) -> (-145.2, -57) projected
  line L120 (-145.2, -57) -> (-145.2, -60) projected
  line L121 (-145.2, -60) -> (-146.4, -60) projected
  line L122 (-146.4, -60) -> (-146.4, -70) projected
  line L123 (-146.4, -70) -> (-85.9, -70) projected
  line L124 (-85.9, -70) -> (-85.9, -75) projected
  line L125 (-85.9, -75) -> (-65.9, -75) projected
  line L126 (-65.9, -75) -> (-65.9, -70) projected
  line L127 (-65.9, -70) -> (-5.4, -70) projected
  line L128 (-5.4, -70) -> (-5.4, -60) projected
  line L129 (-5.4, -60) -> (-6.6, -60) projected
  line L130 (-6.6, -60) -> (-6.6, -57) projected
  line L131 (-6.6, -57) -> (-5.4, -57) projected
  line L132 (-5.4, -57) -> (-5.4, -47) projected
  line L133 (-5.4, -47) -> (-1.8, -47) projected
  line L134 (-1.8, -47) -> (-1.8, -57) projected
  line L135 (-1.8, -57) -> (-0.6, -57) projected
  line L136 (-0.6, -57) -> (-0.6, -60) projected
  line L137 (-0.6, -60) -> (-1.8, -60) projected
  circle A1 centre (-91, 20) radius 25.5 projected
  circle A2 centre (-182, 20) radius 18 projected
  circle A3 centre (18, 20) radius 18 projected
  circle A4 centre (127, 20) radius 25.5 projected
  line L138 (-220, -70) -> (-220, -30) projected
  point P0 (0, 0)
  dimension "d77" = 4
  dimension "d78" = 4
  dimension "d79" = 4
  dimension "d80" = 4
  dimension "d81" = 20
  dimension "d82" = 30
extrude "Extrusion7" add sketch "Sketch7" against normal blind 4 contours L26 L27 L28 L2 | L30 L31 L32 L16
ref_plane "Work Plane2" through (0, -26.4, 4) normal (1, 0, 0) x (0, 0, -1)
mirror "Mirror2" about plane through (0, -26.4, 4) normal (1, 0, 0) of "Extrusion7"
properties part number "P1"
